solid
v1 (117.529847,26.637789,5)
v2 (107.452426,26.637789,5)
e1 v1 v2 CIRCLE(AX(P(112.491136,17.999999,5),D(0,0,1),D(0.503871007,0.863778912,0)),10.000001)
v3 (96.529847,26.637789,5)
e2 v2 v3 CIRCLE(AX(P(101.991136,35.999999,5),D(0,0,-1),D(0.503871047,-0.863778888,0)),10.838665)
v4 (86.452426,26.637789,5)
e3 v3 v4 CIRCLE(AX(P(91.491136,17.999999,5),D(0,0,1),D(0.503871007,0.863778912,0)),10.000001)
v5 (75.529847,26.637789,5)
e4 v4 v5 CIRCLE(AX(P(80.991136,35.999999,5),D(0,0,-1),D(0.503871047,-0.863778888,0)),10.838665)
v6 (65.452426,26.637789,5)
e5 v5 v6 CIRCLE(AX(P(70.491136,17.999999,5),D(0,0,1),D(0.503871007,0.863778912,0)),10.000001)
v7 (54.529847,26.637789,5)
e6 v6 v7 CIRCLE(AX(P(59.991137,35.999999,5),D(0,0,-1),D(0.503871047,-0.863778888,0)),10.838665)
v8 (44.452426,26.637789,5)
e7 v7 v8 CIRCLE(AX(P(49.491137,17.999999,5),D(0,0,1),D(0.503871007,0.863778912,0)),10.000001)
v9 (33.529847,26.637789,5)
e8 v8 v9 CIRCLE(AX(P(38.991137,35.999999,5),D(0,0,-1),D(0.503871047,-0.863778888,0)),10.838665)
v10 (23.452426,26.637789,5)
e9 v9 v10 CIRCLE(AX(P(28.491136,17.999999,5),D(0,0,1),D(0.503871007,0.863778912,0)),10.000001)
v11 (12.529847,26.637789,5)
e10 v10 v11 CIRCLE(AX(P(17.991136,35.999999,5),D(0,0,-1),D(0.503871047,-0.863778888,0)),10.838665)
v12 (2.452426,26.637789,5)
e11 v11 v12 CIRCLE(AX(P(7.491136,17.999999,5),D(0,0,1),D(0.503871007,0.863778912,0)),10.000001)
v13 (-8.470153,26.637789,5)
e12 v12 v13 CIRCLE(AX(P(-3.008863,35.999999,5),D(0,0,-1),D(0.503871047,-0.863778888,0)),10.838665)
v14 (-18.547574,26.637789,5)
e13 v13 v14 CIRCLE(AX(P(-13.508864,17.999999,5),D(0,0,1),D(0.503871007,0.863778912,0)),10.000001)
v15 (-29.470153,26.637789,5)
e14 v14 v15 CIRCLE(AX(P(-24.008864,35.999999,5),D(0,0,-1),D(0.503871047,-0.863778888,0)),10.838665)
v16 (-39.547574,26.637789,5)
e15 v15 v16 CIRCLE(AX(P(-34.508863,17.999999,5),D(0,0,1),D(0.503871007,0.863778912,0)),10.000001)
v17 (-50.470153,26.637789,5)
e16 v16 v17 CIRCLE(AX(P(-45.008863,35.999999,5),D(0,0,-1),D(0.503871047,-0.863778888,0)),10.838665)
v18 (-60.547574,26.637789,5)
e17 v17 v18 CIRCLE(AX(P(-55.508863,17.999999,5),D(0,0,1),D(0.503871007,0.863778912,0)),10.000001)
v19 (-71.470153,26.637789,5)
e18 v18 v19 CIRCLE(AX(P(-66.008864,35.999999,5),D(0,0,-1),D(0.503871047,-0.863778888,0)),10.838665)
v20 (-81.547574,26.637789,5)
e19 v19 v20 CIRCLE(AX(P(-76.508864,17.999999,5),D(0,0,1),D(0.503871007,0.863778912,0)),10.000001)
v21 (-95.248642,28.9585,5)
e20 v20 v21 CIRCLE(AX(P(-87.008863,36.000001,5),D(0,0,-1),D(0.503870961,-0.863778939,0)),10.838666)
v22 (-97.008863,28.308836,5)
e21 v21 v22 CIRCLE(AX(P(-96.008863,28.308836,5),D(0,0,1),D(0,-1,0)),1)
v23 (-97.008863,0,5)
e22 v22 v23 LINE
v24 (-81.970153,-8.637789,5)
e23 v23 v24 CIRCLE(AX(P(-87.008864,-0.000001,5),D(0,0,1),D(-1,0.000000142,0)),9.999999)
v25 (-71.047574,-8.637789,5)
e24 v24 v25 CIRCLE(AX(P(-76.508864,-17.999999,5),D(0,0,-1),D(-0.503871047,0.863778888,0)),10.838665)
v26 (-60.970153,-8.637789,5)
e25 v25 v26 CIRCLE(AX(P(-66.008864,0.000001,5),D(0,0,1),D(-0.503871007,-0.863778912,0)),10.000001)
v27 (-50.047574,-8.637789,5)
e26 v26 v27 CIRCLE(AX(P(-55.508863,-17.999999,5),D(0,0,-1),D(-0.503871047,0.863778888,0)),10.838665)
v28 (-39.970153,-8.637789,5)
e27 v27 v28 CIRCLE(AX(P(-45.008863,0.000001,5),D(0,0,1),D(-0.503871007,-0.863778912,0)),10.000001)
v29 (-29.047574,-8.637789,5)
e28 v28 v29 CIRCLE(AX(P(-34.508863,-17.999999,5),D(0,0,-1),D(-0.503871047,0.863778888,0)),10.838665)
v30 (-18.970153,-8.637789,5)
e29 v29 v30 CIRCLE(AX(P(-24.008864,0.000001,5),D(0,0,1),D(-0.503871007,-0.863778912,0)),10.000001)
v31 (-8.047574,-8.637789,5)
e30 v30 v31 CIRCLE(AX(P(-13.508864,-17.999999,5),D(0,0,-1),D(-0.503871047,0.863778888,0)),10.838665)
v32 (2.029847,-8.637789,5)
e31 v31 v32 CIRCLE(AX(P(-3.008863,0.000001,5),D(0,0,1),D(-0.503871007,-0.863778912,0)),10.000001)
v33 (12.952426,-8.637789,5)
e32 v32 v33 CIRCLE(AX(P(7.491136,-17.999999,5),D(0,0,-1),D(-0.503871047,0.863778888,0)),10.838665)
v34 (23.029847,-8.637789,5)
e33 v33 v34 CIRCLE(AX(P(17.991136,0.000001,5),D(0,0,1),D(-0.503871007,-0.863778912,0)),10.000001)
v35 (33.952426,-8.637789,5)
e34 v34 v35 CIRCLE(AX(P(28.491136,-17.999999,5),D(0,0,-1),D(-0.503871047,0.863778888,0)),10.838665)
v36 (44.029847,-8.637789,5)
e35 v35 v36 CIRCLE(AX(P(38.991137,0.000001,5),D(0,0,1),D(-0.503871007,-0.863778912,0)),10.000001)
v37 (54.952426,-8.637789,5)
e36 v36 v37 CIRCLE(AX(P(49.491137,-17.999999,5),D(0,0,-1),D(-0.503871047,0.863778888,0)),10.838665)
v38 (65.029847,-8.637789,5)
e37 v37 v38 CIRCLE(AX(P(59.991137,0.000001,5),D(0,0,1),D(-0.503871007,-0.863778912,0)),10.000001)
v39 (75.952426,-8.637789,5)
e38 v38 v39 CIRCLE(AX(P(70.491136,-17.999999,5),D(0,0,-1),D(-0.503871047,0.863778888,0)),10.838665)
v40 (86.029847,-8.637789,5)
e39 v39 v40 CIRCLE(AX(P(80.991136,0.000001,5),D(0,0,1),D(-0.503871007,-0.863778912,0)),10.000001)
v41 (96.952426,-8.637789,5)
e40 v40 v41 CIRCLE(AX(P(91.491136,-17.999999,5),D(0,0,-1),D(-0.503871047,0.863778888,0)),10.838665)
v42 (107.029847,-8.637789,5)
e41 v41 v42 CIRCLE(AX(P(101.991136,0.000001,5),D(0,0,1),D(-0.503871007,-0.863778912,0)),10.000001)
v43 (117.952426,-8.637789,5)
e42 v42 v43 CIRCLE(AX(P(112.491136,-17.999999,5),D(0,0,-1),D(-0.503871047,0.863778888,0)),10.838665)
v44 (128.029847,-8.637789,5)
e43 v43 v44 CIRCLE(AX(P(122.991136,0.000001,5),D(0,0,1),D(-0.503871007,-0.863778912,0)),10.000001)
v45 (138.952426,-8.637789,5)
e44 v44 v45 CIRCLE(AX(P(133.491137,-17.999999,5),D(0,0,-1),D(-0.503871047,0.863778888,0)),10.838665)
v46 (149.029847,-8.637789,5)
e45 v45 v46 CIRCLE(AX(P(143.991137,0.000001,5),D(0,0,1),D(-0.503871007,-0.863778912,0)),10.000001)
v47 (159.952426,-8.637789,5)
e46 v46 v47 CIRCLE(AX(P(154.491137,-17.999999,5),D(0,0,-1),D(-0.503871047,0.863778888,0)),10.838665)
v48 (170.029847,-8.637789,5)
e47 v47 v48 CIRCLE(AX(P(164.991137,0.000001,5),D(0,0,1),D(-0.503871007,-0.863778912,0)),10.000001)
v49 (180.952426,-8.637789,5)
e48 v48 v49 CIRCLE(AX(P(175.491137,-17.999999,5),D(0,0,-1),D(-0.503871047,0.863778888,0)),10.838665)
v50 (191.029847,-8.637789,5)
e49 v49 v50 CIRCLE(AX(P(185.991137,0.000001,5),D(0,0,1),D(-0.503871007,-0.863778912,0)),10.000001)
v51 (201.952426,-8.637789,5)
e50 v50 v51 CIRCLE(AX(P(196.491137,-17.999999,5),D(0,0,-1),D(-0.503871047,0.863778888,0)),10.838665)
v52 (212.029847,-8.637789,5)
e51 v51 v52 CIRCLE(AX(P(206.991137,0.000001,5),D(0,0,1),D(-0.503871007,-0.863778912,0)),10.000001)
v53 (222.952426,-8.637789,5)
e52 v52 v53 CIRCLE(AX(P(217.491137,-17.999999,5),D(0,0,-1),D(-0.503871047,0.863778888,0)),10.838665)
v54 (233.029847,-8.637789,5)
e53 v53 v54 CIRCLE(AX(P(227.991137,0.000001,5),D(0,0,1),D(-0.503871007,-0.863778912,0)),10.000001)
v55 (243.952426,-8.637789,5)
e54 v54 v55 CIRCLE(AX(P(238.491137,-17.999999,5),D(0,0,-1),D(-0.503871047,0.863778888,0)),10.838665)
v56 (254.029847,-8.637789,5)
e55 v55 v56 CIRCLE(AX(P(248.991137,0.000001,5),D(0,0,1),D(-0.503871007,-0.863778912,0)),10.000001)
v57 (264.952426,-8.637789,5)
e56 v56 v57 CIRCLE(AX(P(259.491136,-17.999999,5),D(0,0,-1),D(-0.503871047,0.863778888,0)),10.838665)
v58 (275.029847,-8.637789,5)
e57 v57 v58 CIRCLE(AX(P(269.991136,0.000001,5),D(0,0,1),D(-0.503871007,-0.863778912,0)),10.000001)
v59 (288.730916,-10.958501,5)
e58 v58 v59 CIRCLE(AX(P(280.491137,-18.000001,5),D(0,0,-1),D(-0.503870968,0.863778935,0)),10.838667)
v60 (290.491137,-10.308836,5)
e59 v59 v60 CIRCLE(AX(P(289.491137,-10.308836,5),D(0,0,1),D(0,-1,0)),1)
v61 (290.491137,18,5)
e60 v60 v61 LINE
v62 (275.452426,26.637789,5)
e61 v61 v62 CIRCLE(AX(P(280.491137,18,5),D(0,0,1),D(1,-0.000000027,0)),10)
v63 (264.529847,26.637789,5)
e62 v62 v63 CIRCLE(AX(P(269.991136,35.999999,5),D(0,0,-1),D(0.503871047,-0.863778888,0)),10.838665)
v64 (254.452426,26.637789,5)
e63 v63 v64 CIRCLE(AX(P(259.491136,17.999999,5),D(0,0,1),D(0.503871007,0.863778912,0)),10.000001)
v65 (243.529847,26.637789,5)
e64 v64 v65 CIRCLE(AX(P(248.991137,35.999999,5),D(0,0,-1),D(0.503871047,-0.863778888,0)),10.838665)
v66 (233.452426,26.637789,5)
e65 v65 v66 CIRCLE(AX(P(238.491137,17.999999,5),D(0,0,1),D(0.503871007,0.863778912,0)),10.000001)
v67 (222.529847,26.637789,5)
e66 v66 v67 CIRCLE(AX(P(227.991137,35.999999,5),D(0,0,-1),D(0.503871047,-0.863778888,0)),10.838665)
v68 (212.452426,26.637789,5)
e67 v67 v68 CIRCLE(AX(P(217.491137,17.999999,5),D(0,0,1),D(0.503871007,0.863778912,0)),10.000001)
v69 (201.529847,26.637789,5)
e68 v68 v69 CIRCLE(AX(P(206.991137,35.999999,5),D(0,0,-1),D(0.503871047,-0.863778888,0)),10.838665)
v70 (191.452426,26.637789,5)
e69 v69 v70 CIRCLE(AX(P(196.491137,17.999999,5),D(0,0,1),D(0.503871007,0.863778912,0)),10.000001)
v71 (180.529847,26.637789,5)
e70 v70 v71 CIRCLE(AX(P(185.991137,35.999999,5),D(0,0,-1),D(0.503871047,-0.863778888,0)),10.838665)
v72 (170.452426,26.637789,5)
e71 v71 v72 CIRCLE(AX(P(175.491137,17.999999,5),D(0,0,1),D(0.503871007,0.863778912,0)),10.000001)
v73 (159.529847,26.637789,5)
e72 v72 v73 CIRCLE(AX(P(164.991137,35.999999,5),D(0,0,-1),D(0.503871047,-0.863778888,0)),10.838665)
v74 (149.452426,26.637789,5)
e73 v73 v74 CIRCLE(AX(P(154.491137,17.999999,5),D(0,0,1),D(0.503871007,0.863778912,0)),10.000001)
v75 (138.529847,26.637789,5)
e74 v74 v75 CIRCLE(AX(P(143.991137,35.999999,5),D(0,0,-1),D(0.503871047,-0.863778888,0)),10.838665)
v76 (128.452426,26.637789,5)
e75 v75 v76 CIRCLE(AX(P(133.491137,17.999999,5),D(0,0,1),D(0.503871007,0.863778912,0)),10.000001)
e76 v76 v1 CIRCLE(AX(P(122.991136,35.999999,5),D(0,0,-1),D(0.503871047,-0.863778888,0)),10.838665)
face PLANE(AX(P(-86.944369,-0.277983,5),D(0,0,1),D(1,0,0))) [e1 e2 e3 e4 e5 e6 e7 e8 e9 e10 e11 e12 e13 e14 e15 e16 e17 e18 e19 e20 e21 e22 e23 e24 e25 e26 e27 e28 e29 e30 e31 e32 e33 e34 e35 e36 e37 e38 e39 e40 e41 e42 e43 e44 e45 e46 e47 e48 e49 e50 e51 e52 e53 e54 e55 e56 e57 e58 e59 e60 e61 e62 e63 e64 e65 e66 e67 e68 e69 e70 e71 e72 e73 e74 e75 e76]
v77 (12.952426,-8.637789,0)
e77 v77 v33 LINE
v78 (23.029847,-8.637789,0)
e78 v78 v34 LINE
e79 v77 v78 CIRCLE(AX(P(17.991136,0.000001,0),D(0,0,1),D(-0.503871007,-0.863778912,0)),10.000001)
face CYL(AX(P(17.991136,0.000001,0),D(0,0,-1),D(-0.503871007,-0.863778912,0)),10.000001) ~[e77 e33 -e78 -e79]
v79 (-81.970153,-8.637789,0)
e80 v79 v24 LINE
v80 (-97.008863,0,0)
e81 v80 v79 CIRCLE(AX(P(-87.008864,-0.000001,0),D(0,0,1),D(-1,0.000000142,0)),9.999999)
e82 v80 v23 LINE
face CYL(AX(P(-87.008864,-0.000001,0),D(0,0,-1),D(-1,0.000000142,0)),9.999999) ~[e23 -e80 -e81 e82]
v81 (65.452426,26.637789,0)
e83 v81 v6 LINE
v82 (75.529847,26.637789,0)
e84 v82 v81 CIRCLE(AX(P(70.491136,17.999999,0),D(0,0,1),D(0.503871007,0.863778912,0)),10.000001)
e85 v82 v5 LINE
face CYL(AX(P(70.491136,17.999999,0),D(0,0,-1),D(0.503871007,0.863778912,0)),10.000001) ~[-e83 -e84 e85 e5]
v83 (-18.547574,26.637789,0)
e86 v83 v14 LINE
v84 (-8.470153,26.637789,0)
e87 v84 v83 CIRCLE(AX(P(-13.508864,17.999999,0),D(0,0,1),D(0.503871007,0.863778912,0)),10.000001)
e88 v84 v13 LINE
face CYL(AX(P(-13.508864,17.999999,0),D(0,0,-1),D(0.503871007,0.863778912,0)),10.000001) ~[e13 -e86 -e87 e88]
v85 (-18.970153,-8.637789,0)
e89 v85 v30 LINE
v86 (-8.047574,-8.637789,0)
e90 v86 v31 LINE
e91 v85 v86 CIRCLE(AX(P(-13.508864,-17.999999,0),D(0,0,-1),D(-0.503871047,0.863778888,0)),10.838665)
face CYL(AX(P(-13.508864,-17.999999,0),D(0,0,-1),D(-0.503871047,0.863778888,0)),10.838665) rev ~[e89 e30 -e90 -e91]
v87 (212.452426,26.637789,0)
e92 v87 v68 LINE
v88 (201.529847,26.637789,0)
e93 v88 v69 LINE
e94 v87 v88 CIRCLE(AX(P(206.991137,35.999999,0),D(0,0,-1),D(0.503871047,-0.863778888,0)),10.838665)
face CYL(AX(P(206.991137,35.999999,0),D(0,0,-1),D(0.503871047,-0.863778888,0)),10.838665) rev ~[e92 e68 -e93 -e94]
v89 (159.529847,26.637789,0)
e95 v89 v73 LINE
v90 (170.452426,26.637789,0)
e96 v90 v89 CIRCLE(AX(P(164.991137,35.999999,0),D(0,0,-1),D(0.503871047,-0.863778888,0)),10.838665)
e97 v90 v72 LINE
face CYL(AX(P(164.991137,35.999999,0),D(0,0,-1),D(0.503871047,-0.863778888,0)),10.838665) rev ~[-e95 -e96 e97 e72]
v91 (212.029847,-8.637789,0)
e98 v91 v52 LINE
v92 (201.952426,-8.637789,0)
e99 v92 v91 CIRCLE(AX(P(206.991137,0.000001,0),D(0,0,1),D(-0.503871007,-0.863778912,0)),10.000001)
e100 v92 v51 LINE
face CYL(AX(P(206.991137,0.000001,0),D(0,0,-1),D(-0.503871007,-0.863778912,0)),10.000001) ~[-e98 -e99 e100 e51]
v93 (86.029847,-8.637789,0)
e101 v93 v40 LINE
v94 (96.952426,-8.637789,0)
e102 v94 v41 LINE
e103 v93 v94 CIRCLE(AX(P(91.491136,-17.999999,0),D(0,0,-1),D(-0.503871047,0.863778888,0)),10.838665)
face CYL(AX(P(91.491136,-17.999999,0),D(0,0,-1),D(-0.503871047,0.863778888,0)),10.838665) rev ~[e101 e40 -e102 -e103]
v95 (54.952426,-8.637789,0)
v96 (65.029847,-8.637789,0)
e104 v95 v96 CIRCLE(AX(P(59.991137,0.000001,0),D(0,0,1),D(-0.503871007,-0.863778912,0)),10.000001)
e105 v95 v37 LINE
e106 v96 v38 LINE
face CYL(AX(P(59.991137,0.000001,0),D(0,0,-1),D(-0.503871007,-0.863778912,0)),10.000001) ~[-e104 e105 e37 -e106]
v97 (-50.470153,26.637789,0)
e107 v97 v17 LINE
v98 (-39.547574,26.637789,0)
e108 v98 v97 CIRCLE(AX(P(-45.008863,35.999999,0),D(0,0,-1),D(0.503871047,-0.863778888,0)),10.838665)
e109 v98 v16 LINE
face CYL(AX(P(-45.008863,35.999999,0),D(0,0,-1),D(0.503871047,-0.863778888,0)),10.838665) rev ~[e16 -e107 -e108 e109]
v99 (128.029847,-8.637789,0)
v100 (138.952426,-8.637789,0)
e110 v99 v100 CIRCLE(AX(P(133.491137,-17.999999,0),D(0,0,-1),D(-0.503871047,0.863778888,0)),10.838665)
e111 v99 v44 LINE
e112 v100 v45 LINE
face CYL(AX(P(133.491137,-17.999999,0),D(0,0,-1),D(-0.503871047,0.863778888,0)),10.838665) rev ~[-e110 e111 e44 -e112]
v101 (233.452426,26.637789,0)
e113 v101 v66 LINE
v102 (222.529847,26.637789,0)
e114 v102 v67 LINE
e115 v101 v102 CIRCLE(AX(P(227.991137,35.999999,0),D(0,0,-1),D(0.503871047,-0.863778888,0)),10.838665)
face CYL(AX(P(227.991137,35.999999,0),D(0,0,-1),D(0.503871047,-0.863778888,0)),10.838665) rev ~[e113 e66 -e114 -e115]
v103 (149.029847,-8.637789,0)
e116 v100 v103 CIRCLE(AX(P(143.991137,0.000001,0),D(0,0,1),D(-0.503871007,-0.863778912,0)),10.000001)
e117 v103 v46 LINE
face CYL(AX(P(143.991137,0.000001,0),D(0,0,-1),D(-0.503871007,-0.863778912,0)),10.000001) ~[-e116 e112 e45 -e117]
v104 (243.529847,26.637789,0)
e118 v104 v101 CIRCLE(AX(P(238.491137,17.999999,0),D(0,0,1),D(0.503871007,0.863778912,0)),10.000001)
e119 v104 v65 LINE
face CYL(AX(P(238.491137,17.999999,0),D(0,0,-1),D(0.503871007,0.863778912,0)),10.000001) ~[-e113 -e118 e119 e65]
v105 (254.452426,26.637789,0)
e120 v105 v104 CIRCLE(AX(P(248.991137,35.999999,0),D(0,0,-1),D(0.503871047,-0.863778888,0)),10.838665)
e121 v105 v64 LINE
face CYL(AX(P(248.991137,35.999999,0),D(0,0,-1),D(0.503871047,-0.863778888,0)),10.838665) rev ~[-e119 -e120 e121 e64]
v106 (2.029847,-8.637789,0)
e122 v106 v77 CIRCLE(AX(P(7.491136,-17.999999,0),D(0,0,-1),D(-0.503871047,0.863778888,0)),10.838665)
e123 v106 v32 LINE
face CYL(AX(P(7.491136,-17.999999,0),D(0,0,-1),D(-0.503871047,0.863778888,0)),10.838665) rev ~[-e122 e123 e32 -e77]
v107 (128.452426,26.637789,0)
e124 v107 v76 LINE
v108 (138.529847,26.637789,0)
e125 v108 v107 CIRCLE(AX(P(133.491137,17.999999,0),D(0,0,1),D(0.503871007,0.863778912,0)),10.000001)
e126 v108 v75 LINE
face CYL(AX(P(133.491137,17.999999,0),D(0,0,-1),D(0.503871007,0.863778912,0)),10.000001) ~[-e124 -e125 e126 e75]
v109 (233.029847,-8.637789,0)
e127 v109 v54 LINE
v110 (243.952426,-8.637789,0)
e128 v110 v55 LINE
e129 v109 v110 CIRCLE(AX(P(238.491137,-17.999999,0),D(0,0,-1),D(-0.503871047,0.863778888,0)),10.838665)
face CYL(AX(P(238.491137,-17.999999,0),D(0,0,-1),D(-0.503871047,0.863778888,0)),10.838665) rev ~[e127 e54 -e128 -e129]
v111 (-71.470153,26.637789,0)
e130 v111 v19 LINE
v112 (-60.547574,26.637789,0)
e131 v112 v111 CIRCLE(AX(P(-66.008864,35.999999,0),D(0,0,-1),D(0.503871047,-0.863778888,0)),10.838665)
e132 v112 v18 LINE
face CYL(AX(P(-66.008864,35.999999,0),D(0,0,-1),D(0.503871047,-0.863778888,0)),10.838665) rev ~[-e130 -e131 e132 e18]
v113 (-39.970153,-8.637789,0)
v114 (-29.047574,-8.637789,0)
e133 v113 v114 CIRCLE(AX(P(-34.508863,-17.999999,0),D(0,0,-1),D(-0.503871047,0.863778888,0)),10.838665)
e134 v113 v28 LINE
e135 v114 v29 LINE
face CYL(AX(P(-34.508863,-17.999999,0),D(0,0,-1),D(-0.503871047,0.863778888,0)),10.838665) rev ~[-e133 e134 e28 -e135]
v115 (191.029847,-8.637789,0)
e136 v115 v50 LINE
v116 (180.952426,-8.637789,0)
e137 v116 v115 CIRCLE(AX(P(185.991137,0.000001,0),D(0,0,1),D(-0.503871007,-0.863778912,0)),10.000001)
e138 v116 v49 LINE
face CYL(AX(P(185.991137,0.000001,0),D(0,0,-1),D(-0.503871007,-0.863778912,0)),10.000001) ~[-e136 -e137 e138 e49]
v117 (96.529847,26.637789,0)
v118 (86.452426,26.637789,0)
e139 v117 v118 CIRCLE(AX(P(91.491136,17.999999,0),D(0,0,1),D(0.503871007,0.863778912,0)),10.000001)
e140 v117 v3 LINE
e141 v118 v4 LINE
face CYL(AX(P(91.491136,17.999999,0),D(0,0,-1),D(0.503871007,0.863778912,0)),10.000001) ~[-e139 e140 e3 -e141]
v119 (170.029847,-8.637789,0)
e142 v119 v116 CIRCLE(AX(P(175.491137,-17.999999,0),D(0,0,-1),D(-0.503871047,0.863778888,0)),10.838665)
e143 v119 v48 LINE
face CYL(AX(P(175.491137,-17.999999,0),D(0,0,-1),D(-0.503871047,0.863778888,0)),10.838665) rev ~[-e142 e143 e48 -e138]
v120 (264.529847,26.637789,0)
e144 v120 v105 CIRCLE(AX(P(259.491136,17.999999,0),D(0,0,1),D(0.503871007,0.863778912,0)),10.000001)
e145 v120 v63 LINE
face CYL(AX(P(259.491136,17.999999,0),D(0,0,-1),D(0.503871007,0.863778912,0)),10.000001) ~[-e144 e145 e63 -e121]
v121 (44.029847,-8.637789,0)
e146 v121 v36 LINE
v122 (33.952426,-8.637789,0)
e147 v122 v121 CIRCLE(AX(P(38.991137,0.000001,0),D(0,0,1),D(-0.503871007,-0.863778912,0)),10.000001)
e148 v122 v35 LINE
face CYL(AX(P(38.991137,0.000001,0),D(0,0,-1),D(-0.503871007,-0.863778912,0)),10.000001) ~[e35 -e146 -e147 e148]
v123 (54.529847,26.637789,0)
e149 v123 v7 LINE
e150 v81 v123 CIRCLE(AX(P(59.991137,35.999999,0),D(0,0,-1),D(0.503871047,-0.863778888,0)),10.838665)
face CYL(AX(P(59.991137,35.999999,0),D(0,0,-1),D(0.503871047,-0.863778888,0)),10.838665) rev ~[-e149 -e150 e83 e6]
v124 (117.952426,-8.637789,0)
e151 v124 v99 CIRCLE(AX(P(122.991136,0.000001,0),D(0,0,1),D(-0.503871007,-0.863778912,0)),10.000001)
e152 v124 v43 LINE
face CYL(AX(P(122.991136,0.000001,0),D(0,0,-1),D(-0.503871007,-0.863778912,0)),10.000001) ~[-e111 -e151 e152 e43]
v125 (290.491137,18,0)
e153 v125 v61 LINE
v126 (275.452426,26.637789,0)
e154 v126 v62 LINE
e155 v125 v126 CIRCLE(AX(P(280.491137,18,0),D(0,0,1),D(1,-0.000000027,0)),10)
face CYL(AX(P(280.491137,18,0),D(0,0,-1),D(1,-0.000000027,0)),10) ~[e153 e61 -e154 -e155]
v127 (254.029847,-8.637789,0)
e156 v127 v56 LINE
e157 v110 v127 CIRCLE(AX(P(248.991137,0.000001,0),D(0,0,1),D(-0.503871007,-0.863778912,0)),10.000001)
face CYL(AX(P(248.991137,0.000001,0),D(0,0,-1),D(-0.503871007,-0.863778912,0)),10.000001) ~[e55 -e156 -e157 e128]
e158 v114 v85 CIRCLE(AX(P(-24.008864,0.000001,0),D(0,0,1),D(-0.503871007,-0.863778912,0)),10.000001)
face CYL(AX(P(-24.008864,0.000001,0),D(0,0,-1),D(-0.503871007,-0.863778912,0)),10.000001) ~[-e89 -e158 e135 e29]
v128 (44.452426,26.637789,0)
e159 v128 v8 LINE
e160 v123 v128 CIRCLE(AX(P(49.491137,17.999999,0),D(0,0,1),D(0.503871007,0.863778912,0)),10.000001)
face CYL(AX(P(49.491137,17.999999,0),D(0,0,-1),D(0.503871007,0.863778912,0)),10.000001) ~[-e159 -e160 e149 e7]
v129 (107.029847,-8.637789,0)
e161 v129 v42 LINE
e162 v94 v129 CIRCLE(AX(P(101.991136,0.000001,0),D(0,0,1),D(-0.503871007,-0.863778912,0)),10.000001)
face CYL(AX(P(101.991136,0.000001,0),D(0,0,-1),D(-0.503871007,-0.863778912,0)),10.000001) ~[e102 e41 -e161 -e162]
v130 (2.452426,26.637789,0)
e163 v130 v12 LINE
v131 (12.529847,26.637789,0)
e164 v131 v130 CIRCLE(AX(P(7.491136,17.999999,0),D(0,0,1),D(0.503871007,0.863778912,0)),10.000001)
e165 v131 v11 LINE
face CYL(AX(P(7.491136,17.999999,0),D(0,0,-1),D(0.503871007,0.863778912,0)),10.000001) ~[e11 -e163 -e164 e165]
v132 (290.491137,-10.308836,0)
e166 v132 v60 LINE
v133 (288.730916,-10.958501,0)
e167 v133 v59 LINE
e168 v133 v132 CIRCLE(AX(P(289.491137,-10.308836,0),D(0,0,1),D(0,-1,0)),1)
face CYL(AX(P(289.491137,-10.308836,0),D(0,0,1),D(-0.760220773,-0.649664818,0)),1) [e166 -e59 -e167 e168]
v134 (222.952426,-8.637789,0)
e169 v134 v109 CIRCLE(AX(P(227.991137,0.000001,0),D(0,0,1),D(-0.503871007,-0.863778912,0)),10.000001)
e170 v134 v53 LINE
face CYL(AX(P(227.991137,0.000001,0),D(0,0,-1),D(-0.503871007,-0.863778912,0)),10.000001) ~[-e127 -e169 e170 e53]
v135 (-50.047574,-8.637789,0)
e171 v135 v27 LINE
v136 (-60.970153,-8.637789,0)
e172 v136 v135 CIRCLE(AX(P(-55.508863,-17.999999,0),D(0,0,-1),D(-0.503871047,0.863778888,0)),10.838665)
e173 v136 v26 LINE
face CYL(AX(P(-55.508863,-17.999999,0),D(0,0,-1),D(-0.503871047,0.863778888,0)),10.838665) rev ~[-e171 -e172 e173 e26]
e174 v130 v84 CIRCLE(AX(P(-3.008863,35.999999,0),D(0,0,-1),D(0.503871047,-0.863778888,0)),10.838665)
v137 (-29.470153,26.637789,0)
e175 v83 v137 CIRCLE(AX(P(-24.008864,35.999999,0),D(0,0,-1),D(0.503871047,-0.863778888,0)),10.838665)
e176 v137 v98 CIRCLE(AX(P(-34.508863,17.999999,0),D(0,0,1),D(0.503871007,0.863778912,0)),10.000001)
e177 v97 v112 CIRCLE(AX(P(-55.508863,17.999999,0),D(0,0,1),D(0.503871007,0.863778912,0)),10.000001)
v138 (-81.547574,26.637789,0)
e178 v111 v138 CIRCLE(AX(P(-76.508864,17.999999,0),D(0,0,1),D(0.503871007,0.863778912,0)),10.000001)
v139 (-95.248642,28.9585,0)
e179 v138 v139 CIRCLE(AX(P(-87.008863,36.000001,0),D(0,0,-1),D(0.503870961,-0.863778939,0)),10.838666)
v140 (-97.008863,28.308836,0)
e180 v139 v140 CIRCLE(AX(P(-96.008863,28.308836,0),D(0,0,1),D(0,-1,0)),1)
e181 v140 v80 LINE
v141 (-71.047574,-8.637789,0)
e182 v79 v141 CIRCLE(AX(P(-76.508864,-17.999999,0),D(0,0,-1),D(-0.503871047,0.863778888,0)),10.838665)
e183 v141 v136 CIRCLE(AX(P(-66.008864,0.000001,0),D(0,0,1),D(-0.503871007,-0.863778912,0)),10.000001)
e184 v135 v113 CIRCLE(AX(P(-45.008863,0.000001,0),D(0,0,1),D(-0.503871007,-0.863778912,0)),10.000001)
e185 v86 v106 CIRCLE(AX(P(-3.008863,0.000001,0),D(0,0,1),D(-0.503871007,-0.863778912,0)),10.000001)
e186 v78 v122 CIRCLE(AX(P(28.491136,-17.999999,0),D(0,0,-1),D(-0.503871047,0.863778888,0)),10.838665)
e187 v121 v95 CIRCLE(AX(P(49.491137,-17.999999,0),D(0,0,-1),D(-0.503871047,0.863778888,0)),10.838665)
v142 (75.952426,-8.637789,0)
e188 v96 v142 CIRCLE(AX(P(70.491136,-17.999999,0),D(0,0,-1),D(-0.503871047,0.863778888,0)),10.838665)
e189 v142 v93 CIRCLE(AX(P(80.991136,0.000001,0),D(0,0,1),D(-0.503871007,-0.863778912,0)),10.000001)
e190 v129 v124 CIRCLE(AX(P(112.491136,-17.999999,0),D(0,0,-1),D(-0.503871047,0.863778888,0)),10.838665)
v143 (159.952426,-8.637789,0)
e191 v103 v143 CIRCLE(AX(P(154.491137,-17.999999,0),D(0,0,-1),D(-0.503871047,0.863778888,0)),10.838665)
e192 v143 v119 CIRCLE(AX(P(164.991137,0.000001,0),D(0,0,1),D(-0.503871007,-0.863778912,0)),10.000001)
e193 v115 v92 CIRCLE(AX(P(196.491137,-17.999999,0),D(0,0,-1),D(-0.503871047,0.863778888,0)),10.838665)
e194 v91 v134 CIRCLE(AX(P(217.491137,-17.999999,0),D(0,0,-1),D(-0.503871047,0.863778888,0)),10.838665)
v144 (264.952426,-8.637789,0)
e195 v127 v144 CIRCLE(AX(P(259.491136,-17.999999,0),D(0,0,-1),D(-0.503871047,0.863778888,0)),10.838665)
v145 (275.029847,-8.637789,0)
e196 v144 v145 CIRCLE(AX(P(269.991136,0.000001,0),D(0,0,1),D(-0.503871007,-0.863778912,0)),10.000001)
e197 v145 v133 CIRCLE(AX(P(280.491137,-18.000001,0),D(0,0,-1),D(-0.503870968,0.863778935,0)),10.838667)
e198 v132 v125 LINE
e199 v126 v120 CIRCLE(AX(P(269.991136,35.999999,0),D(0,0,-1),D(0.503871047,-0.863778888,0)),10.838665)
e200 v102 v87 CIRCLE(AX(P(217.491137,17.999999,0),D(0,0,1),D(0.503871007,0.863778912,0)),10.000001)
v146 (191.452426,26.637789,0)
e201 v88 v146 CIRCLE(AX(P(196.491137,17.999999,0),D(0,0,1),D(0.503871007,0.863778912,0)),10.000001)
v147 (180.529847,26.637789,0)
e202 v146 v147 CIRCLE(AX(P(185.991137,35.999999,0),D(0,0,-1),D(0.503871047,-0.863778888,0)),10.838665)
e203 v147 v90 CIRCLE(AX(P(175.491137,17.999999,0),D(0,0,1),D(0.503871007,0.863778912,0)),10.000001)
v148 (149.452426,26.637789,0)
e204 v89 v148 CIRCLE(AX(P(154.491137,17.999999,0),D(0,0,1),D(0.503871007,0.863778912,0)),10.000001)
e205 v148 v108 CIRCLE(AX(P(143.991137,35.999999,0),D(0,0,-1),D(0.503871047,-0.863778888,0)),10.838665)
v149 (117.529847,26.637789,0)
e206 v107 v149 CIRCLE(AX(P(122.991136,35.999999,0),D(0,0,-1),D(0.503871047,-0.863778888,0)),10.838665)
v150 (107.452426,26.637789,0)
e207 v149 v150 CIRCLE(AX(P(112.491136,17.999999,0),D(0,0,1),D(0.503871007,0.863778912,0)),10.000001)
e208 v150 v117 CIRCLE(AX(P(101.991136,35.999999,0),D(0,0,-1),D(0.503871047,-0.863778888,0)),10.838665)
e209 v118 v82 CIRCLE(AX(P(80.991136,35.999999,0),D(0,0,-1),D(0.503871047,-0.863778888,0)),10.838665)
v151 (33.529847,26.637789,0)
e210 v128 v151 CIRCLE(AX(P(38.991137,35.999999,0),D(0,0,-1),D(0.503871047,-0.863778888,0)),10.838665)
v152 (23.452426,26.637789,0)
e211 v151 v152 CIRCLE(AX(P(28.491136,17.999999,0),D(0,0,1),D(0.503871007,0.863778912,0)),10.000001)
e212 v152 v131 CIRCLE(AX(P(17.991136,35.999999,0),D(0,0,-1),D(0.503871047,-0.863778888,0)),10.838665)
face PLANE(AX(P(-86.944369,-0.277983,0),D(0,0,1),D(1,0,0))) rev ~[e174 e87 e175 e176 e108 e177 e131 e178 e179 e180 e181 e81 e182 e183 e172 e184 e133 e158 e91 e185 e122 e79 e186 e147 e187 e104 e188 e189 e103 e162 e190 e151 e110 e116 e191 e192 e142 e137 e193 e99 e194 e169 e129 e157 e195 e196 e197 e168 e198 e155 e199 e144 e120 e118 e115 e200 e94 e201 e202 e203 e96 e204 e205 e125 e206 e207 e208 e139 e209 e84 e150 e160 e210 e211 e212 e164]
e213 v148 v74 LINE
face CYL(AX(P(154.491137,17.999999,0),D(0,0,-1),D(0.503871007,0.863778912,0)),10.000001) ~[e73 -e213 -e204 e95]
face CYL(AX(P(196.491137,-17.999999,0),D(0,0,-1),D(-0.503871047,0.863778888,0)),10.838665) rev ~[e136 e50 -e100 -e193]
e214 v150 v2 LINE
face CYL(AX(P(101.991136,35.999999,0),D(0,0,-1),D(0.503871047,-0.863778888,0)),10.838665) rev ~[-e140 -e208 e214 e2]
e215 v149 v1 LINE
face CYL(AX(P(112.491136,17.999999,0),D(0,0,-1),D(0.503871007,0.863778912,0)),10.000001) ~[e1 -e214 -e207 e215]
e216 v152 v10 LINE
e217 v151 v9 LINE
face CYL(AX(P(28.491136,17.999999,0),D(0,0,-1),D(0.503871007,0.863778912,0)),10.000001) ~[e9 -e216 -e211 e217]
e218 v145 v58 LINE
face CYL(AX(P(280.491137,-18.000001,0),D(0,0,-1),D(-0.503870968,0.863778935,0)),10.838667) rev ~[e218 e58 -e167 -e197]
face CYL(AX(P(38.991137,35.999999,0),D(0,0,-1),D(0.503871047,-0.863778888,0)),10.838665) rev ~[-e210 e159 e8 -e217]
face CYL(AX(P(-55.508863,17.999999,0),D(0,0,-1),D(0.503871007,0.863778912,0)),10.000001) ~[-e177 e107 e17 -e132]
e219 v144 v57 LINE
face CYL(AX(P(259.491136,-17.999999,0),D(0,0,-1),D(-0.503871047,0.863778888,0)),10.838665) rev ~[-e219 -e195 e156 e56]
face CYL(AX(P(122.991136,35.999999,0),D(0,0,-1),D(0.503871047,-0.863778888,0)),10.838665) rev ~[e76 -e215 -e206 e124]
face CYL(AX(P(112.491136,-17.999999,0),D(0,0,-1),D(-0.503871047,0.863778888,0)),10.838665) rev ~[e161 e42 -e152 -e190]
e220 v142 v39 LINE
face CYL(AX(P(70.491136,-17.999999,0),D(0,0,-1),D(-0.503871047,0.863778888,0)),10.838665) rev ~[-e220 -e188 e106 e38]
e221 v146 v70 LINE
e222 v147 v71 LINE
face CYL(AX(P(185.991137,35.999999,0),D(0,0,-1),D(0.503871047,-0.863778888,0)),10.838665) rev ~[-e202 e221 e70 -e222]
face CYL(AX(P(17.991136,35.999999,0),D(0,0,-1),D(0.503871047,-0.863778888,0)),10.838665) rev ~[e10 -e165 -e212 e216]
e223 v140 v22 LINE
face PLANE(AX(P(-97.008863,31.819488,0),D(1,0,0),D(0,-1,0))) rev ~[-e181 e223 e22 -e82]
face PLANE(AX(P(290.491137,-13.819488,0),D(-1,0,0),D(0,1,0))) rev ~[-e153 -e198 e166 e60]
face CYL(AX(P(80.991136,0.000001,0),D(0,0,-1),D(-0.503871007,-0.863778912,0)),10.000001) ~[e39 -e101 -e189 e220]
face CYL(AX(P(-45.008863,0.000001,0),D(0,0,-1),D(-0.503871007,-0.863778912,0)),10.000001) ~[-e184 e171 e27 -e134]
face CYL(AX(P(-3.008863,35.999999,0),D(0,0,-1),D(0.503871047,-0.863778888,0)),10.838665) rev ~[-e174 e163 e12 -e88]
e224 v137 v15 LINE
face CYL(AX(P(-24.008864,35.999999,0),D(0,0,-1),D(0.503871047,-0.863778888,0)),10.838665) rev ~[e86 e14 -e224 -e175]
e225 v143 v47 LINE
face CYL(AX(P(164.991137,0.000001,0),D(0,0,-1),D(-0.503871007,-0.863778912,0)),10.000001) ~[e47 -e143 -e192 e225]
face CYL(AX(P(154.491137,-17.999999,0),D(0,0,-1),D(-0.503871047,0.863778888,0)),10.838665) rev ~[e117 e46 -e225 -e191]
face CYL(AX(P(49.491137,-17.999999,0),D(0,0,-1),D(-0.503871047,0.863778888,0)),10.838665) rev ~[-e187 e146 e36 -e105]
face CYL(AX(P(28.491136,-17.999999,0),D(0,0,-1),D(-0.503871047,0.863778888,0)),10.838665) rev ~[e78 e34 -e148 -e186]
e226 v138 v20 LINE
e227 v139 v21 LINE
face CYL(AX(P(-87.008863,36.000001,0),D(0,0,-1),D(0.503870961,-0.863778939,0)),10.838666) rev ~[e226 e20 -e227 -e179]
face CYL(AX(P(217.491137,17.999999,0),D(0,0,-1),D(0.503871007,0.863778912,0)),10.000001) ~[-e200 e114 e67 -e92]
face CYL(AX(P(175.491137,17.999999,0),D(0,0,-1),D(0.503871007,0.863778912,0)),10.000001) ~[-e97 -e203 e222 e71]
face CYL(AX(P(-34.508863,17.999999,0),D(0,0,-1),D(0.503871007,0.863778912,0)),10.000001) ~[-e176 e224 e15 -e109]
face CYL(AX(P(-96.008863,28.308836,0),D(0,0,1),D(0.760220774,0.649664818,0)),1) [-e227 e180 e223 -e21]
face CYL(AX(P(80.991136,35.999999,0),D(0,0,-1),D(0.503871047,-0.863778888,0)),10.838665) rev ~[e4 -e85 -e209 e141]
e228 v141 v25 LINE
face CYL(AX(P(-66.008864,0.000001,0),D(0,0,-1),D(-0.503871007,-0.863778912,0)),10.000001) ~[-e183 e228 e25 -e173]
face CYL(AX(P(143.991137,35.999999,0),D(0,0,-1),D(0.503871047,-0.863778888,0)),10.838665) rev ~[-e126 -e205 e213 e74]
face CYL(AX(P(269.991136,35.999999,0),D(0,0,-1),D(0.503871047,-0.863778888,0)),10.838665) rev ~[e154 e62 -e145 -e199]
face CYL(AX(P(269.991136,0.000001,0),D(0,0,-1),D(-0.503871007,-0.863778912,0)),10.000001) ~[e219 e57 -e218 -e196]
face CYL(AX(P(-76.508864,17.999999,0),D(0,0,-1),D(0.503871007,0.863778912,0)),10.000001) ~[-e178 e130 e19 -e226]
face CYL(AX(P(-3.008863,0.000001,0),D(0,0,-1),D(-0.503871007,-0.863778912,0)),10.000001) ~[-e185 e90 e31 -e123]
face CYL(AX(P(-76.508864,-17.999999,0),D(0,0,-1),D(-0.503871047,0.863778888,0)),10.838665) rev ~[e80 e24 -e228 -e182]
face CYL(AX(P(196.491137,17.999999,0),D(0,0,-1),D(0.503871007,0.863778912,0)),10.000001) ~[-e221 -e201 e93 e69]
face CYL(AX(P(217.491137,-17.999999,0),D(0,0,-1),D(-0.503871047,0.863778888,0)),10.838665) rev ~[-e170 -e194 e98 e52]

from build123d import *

# Parameters (mm, degrees)
F1_DEPTH = 5
F2_R     = 1


with BuildPart() as f1:
    # F0 (on Top) → F1 (new body)
    with BuildSketch(Plane.XY):
        with BuildLine():
            ThreePointArc((-81.970153, -8.637789), (-78.337442, -4.980607), (-77.008863, 0))
            ThreePointArc((-77.008863, 0), (-87.008863, 10), (-97.008863, 0))
            ThreePointArc((-97.008863, 0), (-91.989471, -8.671422), (-81.970153, -8.637789))
        make_face()
        with BuildLine():
            ThreePointArc((-97.008863, 0), (-87.008863, 10), (-77.008863, 0))
            ThreePointArc((-77.008863, 0), (-78.337442, -4.980607), (-81.970153, -8.637789))
            ThreePointArc((-81.970153, -8.637789), (-76.508863, -7.161334), (-71.047574, -8.637789))
            ThreePointArc((-71.047574, -8.637789), (-70.989471, 8.671422), (-56.008863, 0))
            ThreePointArc((-56.008863, 0), (-57.337442, -4.980607), (-60.970153, -8.637789))
            ThreePointArc((-60.970153, -8.637789), (-55.508863, -7.161334), (-50.047574, -8.637789))
            ThreePointArc((-50.047574, -8.637789), (-49.989471, 8.671422), (-35.008863, 0))
            ThreePointArc((-35.008863, 0), (-36.337442, -4.980607), (-39.970153, -8.637789))
            ThreePointArc((-39.970153, -8.637789), (-34.508863, -7.161334), (-29.047574, -8.637789))
            ThreePointArc((-29.047574, -8.637789), (-28.989471, 8.671422), (-14.008863, 0))
            ThreePointArc((-14.008863, 0), (-15.337442, -4.980607), (-18.970153, -8.637789))
            ThreePointArc((-18.970153, -8.637789), (-13.508863, -7.161334), (-8.047574, -8.637789))
            ThreePointArc((-8.047574, -8.637789), (-7.989471, 8.671422), (6.991137, 0))
            ThreePointArc((6.991137, 0), (5.662558, -4.980607), (2.029847, -8.637789))
            ThreePointArc((2.029847, -8.637789), (7.491137, -7.161334), (12.952426, -8.637789))
            ThreePointArc((12.952426, -8.637789), (13.010529, 8.671422), (27.991137, 0))
            ThreePointArc((27.991137, 0), (26.662558, -4.980607), (23.029847, -8.637789))
            ThreePointArc((23.029847, -8.637789), (28.491137, -7.161334), (33.952426, -8.637789))
            ThreePointArc((33.952426, -8.637789), (34.010529, 8.671422), (48.991137, 0))
            ThreePointArc((48.991137, 0), (47.662558, -4.980607), (44.029847, -8.637789))
            ThreePointArc((44.029847, -8.637789), (49.491137, -7.161334), (54.952426, -8.637789))
            ThreePointArc((54.952426, -8.637789), (55.010529, 8.671422), (69.991137, 0))
            ThreePointArc((69.991137, 0), (68.662558, -4.980607), (65.029847, -8.637789))
            ThreePointArc((65.029847, -8.637789), (70.491137, -7.161334), (75.952426, -8.637789))
            ThreePointArc((75.952426, -8.637789), (76.010529, 8.671422), (90.991137, 0))
            ThreePointArc((90.991137, 0), (89.662558, -4.980607), (86.029847, -8.637789))
            ThreePointArc((86.029847, -8.637789), (91.491137, -7.161334), (96.952426, -8.637789))
            ThreePointArc((96.952426, -8.637789), (97.010529, 8.671422), (111.991137, 0))
            ThreePointArc((111.991137, 0), (110.662558, -4.980607), (107.029847, -8.637789))
            ThreePointArc((107.029847, -8.637789), (112.491137, -7.161334), (117.952426, -8.637789))
            ThreePointArc((117.952426, -8.637789), (118.010529, 8.671422), (132.991137, 0))
            ThreePointArc((132.991137, 0), (131.662558, -4.980607), (128.029847, -8.637789))
            ThreePointArc((128.029847, -8.637789), (133.491137, -7.161334), (138.952426, -8.637789))
            ThreePointArc((138.952426, -8.637789), (139.010529, 8.671422), (153.991137, 0))
            ThreePointArc((153.991137, 0), (152.662558, -4.980607), (149.029847, -8.637789))
            ThreePointArc((149.029847, -8.637789), (154.491137, -7.161334), (159.952426, -8.637789))
            ThreePointArc((159.952426, -8.637789), (160.010529, 8.671422), (174.991137, 0))
            ThreePointArc((174.991137, 0), (173.662558, -4.980607), (170.029847, -8.637789))
            ThreePointArc((170.029847, -8.637789), (175.491137, -7.161334), (180.952426, -8.637789))
            ThreePointArc((180.952426, -8.637789), (181.010529, 8.671422), (195.991137, 0))
            ThreePointArc((195.991137, 0), (194.662558, -4.980607), (191.029847, -8.637789))
            ThreePointArc((191.029847, -8.637789), (196.491137, -7.161334), (201.952426, -8.637789))
            ThreePointArc((201.952426, -8.637789), (202.010529, 8.671422), (216.991137, 0))
            ThreePointArc((216.991137, 0), (215.662558, -4.980607), (212.029847, -8.637789))
            ThreePointArc((212.029847, -8.637789), (217.491137, -7.161334), (222.952426, -8.637789))
            ThreePointArc((222.952426, -8.637789), (223.010529, 8.671422), (237.991137, 0))
            ThreePointArc((237.991137, 0), (236.662558, -4.980607), (233.029847, -8.637789))
            ThreePointArc((233.029847, -8.637789), (238.491137, -7.161334), (243.952426, -8.637789))
            ThreePointArc((243.952426, -8.637789), (244.010529, 8.671422), (258.991137, 0))
            ThreePointArc((258.991137, 0), (257.662558, -4.980607), (254.029847, -8.637789))
            ThreePointArc((254.029847, -8.637789), (259.491137, -7.161334), (264.952426, -8.637789))
            ThreePointArc((264.952426, -8.637789), (265.010529, 8.671422), (279.991137, 0))
            ThreePointArc((279.991137, 0), (278.662558, -4.980607), (275.029847, -8.637789))
            ThreePointArc((275.029847, -8.637789), (283.935331, -7.723123), (290.491137, -13.819488))
            Line((290.491137, -13.819488), (290.491137, 18))
            ThreePointArc((290.491137, 18), (275.510529, 9.328578), (275.452426, 26.637789))
            ThreePointArc((275.452426, 26.637789), (269.991137, 25.161334), (264.529847, 26.637789))
            ThreePointArc((264.529847, 26.637789), (268.162558, 22.980607), (269.491137, 18))
            ThreePointArc((269.491137, 18), (254.510529, 9.328578), (254.452426, 26.637789))
            ThreePointArc((254.452426, 26.637789), (248.991137, 25.161334), (243.529847, 26.637789))
            ThreePointArc((243.529847, 26.637789), (247.162558, 22.980607), (248.491137, 18))
            ThreePointArc((248.491137, 18), (233.510529, 9.328578), (233.452426, 26.637789))
            ThreePointArc((233.452426, 26.637789), (227.991137, 25.161334), (222.529847, 26.637789))
            ThreePointArc((222.529847, 26.637789), (226.162558, 22.980607), (227.491137, 18))
            ThreePointArc((227.491137, 18), (212.510529, 9.328578), (212.452426, 26.637789))
            ThreePointArc((212.452426, 26.637789), (206.991137, 25.161334), (201.529847, 26.637789))
            ThreePointArc((201.529847, 26.637789), (205.162558, 22.980607), (206.491137, 18))
            ThreePointArc((206.491137, 18), (191.510529, 9.328578), (191.452426, 26.637789))
            ThreePointArc((191.452426, 26.637789), (185.991137, 25.161334), (180.529847, 26.637789))
            ThreePointArc((180.529847, 26.637789), (184.162558, 22.980607), (185.491137, 18))
            ThreePointArc((185.491137, 18), (170.510529, 9.328578), (170.452426, 26.637789))
            ThreePointArc((170.452426, 26.637789), (164.991137, 25.161334), (159.529847, 26.637789))
            ThreePointArc((159.529847, 26.637789), (163.162558, 22.980607), (164.491137, 18))
            ThreePointArc((164.491137, 18), (149.510529, 9.328578), (149.452426, 26.637789))
            ThreePointArc((149.452426, 26.637789), (143.991137, 25.161334), (138.529847, 26.637789))
            ThreePointArc((138.529847, 26.637789), (142.162558, 22.980607), (143.491137, 18))
            ThreePointArc((143.491137, 18), (128.510529, 9.328578), (128.452426, 26.637789))
            ThreePointArc((128.452426, 26.637789), (122.991137, 25.161334), (117.529847, 26.637789))
            ThreePointArc((117.529847, 26.637789), (121.162558, 22.980607), (122.491137, 18))
            ThreePointArc((122.491137, 18), (107.510529, 9.328578), (107.452426, 26.637789))
            ThreePointArc((107.452426, 26.637789), (101.991137, 25.161334), (96.529847, 26.637789))
            ThreePointArc((96.529847, 26.637789), (100.162558, 22.980607), (101.491137, 18))
            ThreePointArc((101.491137, 18), (86.510529, 9.328578), (86.452426, 26.637789))
            ThreePointArc((86.452426, 26.637789), (80.991137, 25.161334), (75.529847, 26.637789))
            ThreePointArc((75.529847, 26.637789), (79.162558, 22.980607), (80.491137, 18))
            ThreePointArc((80.491137, 18), (65.510529, 9.328578), (65.452426, 26.637789))
            ThreePointArc((65.452426, 26.637789), (59.991137, 25.161334), (54.529847, 26.637789))
            ThreePointArc((54.529847, 26.637789), (58.162558, 22.980607), (59.491137, 18))
            ThreePointArc((59.491137, 18), (44.510529, 9.328578), (44.452426, 26.637789))
            ThreePointArc((44.452426, 26.637789), (38.991137, 25.161334), (33.529847, 26.637789))
            ThreePointArc((33.529847, 26.637789), (37.162558, 22.980607), (38.491137, 18))
            ThreePointArc((38.491137, 18), (23.510529, 9.328578), (23.452426, 26.637789))
            ThreePointArc((23.452426, 26.637789), (17.991137, 25.161334), (12.529847, 26.637789))
            ThreePointArc((12.529847, 26.637789), (16.162558, 22.980607), (17.491137, 18))
            ThreePointArc((17.491137, 18), (2.510529, 9.328578), (2.452426, 26.637789))
            ThreePointArc((2.452426, 26.637789), (-3.008863, 25.161334), (-8.470153, 26.637789))
            ThreePointArc((-8.470153, 26.637789), (-4.837442, 22.980607), (-3.508863, 18))
            ThreePointArc((-3.508863, 18), (-18.489471, 9.328578), (-18.547574, 26.637789))
            ThreePointArc((-18.547574, 26.637789), (-24.008863, 25.161334), (-29.470153, 26.637789))
            ThreePointArc((-29.470153, 26.637789), (-25.837442, 22.980607), (-24.508863, 18))
            ThreePointArc((-24.508863, 18), (-39.489471, 9.328578), (-39.547574, 26.637789))
            ThreePointArc((-39.547574, 26.637789), (-45.008863, 25.161334), (-50.470153, 26.637789))
            ThreePointArc((-50.470153, 26.637789), (-46.837442, 22.980607), (-45.508863, 18))
            ThreePointArc((-45.508863, 18), (-60.489471, 9.328578), (-60.547574, 26.637789))
            ThreePointArc((-60.547574, 26.637789), (-66.008863, 25.161334), (-71.470153, 26.637789))
            ThreePointArc((-71.470153, 26.637789), (-67.837442, 22.980607), (-66.508863, 18))
            ThreePointArc((-66.508863, 18), (-81.489471, 9.328578), (-81.547574, 26.637789))
            ThreePointArc((-81.547574, 26.637789), (-90.453057, 25.723123), (-97.008863, 31.819488))
            Line((-97.008863, 31.819488), (-97.008863, 0))
        make_face()
        with BuildLine():
            ThreePointArc((-56.008863, 0), (-70.989471, 8.671422), (-71.047574, -8.637789))
            ThreePointArc((-71.047574, -8.637789), (-66.008863, -10), (-60.970153, -8.637789))
            ThreePointArc((-60.970153, -8.637789), (-57.337442, -4.980607), (-56.008863, 0))
        make_face()
        with BuildLine():
            ThreePointArc((-71.470153, 26.637789), (-76.508863, 28), (-81.547574, 26.637789))
            ThreePointArc((-81.547574, 26.637789), (-81.489471, 9.328578), (-66.508863, 18))
            ThreePointArc((-66.508863, 18), (-67.837442, 22.980607), (-71.470153, 26.637789))
        make_face()
        with BuildLine():
            ThreePointArc((-35.008863, 0), (-49.989471, 8.671422), (-50.047574, -8.637789))
            ThreePointArc((-50.047574, -8.637789), (-45.008863, -10), (-39.970153, -8.637789))
            ThreePointArc((-39.970153, -8.637789), (-36.337442, -4.980607), (-35.008863, 0))
        make_face()
        with BuildLine():
            ThreePointArc((-50.470153, 26.637789), (-55.508863, 28), (-60.547574, 26.637789))
            ThreePointArc((-60.547574, 26.637789), (-60.489471, 9.328578), (-45.508863, 18))
            ThreePointArc((-45.508863, 18), (-46.837442, 22.980607), (-50.470153, 26.637789))
        make_face()
        with BuildLine():
            ThreePointArc((-14.008863, 0), (-28.989471, 8.671422), (-29.047574, -8.637789))
            ThreePointArc((-29.047574, -8.637789), (-24.008863, -10), (-18.970153, -8.637789))
            ThreePointArc((-18.970153, -8.637789), (-15.337442, -4.980607), (-14.008863, 0))
        make_face()
        with BuildLine():
            ThreePointArc((-29.470153, 26.637789), (-34.508863, 28), (-39.547574, 26.637789))
            ThreePointArc((-39.547574, 26.637789), (-39.489471, 9.328578), (-24.508863, 18))
            ThreePointArc((-24.508863, 18), (-25.837442, 22.980607), (-29.470153, 26.637789))
        make_face()
        with BuildLine():
            ThreePointArc((6.991137, 0), (-7.989471, 8.671422), (-8.047574, -8.637789))
            ThreePointArc((-8.047574, -8.637789), (-3.008863, -10), (2.029847, -8.637789))
            ThreePointArc((2.029847, -8.637789), (5.662558, -4.980607), (6.991137, 0))
        make_face()
        with BuildLine():
            ThreePointArc((-8.470153, 26.637789), (-13.508863, 28), (-18.547574, 26.637789))
            ThreePointArc((-18.547574, 26.637789), (-18.489471, 9.328578), (-3.508863, 18))
            ThreePointArc((-3.508863, 18), (-4.837442, 22.980607), (-8.470153, 26.637789))
        make_face()
        with BuildLine():
            ThreePointArc((27.991137, 0), (13.010529, 8.671422), (12.952426, -8.637789))
            ThreePointArc((12.952426, -8.637789), (17.991137, -10), (23.029847, -8.637789))
            ThreePointArc((23.029847, -8.637789), (26.662558, -4.980607), (27.991137, 0))
        make_face()
        with BuildLine():
            ThreePointArc((12.529847, 26.637789), (7.491137, 28), (2.452426, 26.637789))
            ThreePointArc((2.452426, 26.637789), (2.510529, 9.328578), (17.491137, 18))
            ThreePointArc((17.491137, 18), (16.162558, 22.980607), (12.529847, 26.637789))
        make_face()
        with BuildLine():
            ThreePointArc((48.991137, 0), (34.010529, 8.671422), (33.952426, -8.637789))
            ThreePointArc((33.952426, -8.637789), (38.991137, -10), (44.029847, -8.637789))
            ThreePointArc((44.029847, -8.637789), (47.662558, -4.980607), (48.991137, 0))
        make_face()
        with BuildLine():
            ThreePointArc((33.529847, 26.637789), (28.491137, 28), (23.452426, 26.637789))
            ThreePointArc((23.452426, 26.637789), (23.510529, 9.328578), (38.491137, 18))
            ThreePointArc((38.491137, 18), (37.162558, 22.980607), (33.529847, 26.637789))
        make_face()
        with BuildLine():
            ThreePointArc((69.991137, 0), (55.010529, 8.671422), (54.952426, -8.637789))
            ThreePointArc((54.952426, -8.637789), (59.991137, -10), (65.029847, -8.637789))
            ThreePointArc((65.029847, -8.637789), (68.662558, -4.980607), (69.991137, 0))
        make_face()
        with BuildLine():
            ThreePointArc((54.529847, 26.637789), (49.491137, 28), (44.452426, 26.637789))
            ThreePointArc((44.452426, 26.637789), (44.510529, 9.328578), (59.491137, 18))
            ThreePointArc((59.491137, 18), (58.162558, 22.980607), (54.529847, 26.637789))
        make_face()
        with BuildLine():
            ThreePointArc((90.991137, 0), (76.010529, 8.671422), (75.952426, -8.637789))
            ThreePointArc((75.952426, -8.637789), (80.991137, -10), (86.029847, -8.637789))
            ThreePointArc((86.029847, -8.637789), (89.662558, -4.980607), (90.991137, 0))
        make_face()
        with BuildLine():
            ThreePointArc((75.529847, 26.637789), (70.491137, 28), (65.452426, 26.637789))
            ThreePointArc((65.452426, 26.637789), (65.510529, 9.328578), (80.491137, 18))
            ThreePointArc((80.491137, 18), (79.162558, 22.980607), (75.529847, 26.637789))
        make_face()
        with BuildLine():
            ThreePointArc((111.991137, 0), (97.010529, 8.671422), (96.952426, -8.637789))
            ThreePointArc((96.952426, -8.637789), (101.991137, -10), (107.029847, -8.637789))
            ThreePointArc((107.029847, -8.637789), (110.662558, -4.980607), (111.991137, 0))
        make_face()
        with BuildLine():
            ThreePointArc((96.529847, 26.637789), (91.491137, 28), (86.452426, 26.637789))
            ThreePointArc((86.452426, 26.637789), (86.510529, 9.328578), (101.491137, 18))
            ThreePointArc((101.491137, 18), (100.162558, 22.980607), (96.529847, 26.637789))
        make_face()
        with BuildLine():
            ThreePointArc((132.991137, 0), (118.010529, 8.671422), (117.952426, -8.637789))
            ThreePointArc((117.952426, -8.637789), (122.991137, -10), (128.029847, -8.637789))
            ThreePointArc((128.029847, -8.637789), (131.662558, -4.980607), (132.991137, 0))
        make_face()
        with BuildLine():
            ThreePointArc((117.529847, 26.637789), (112.491137, 28), (107.452426, 26.637789))
            ThreePointArc((107.452426, 26.637789), (107.510529, 9.328578), (122.491137, 18))
            ThreePointArc((122.491137, 18), (121.162558, 22.980607), (117.529847, 26.637789))
        make_face()
        with BuildLine():
            ThreePointArc((153.991137, 0), (139.010529, 8.671422), (138.952426, -8.637789))
            ThreePointArc((138.952426, -8.637789), (143.991137, -10), (149.029847, -8.637789))
            ThreePointArc((149.029847, -8.637789), (152.662558, -4.980607), (153.991137, 0))
        make_face()
        with BuildLine():
            ThreePointArc((138.529847, 26.637789), (133.491137, 28), (128.452426, 26.637789))
            ThreePointArc((128.452426, 26.637789), (128.510529, 9.328578), (143.491137, 18))
            ThreePointArc((143.491137, 18), (142.162558, 22.980607), (138.529847, 26.637789))
        make_face()
        with BuildLine():
            ThreePointArc((174.991137, 0), (160.010529, 8.671422), (159.952426, -8.637789))
            ThreePointArc((159.952426, -8.637789), (164.991137, -10), (170.029847, -8.637789))
            ThreePointArc((170.029847, -8.637789), (173.662558, -4.980607), (174.991137, 0))
        make_face()
        with BuildLine():
            ThreePointArc((159.529847, 26.637789), (154.491137, 28), (149.452426, 26.637789))
            ThreePointArc((149.452426, 26.637789), (149.510529, 9.328578), (164.491137, 18))
            ThreePointArc((164.491137, 18), (163.162558, 22.980607), (159.529847, 26.637789))
        make_face()
        with BuildLine():
            ThreePointArc((195.991137, 0), (181.010529, 8.671422), (180.952426, -8.637789))
            ThreePointArc((180.952426, -8.637789), (185.991137, -10), (191.029847, -8.637789))
            ThreePointArc((191.029847, -8.637789), (194.662558, -4.980607), (195.991137, 0))
        make_face()
        with BuildLine():
            ThreePointArc((180.529847, 26.637789), (175.491137, 28), (170.452426, 26.637789))
            ThreePointArc((170.452426, 26.637789), (170.510529, 9.328578), (185.491137, 18))
            ThreePointArc((185.491137, 18), (184.162558, 22.980607), (180.529847, 26.637789))
        make_face()
        with BuildLine():
            ThreePointArc((216.991137, 0), (202.010529, 8.671422), (201.952426, -8.637789))
            ThreePointArc((201.952426, -8.637789), (206.991137, -10), (212.029847, -8.637789))
            ThreePointArc((212.029847, -8.637789), (215.662558, -4.980607), (216.991137, 0))
        make_face()
        with BuildLine():
            ThreePointArc((201.529847, 26.637789), (196.491137, 28), (191.452426, 26.637789))
            ThreePointArc((191.452426, 26.637789), (191.510529, 9.328578), (206.491137, 18))
            ThreePointArc((206.491137, 18), (205.162558, 22.980607), (201.529847, 26.637789))
        make_face()
        with BuildLine():
            ThreePointArc((237.991137, 0), (223.010529, 8.671422), (222.952426, -8.637789))
            ThreePointArc((222.952426, -8.637789), (227.991137, -10), (233.029847, -8.637789))
            ThreePointArc((233.029847, -8.637789), (236.662558, -4.980607), (237.991137, 0))
        make_face()
        with BuildLine():
            ThreePointArc((222.529847, 26.637789), (217.491137, 28), (212.452426, 26.637789))
            ThreePointArc((212.452426, 26.637789), (212.510529, 9.328578), (227.491137, 18))
            ThreePointArc((227.491137, 18), (226.162558, 22.980607), (222.529847, 26.637789))
        make_face()
        with BuildLine():
            ThreePointArc((258.991137, 0), (244.010529, 8.671422), (243.952426, -8.637789))
            ThreePointArc((243.952426, -8.637789), (248.991137, -10), (254.029847, -8.637789))
            ThreePointArc((254.029847, -8.637789), (257.662558, -4.980607), (258.991137, 0))
        make_face()
        with BuildLine():
            ThreePointArc((243.529847, 26.637789), (238.491137, 28), (233.452426, 26.637789))
            ThreePointArc((233.452426, 26.637789), (233.510529, 9.328578), (248.491137, 18))
            ThreePointArc((248.491137, 18), (247.162558, 22.980607), (243.529847, 26.637789))
        make_face()
        with BuildLine():
            ThreePointArc((279.991137, 0), (265.010529, 8.671422), (264.952426, -8.637789))
            ThreePointArc((264.952426, -8.637789), (269.991137, -10), (275.029847, -8.637789))
            ThreePointArc((275.029847, -8.637789), (278.662558, -4.980607), (279.991137, 0))
        make_face()
        with BuildLine():
            ThreePointArc((264.529847, 26.637789), (259.491137, 28), (254.452426, 26.637789))
            ThreePointArc((254.452426, 26.637789), (254.510529, 9.328578), (269.491137, 18))
            ThreePointArc((269.491137, 18), (268.162558, 22.980607), (264.529847, 26.637789))
        make_face()
        with BuildLine():
            ThreePointArc((290.491137, 18), (285.471744, 26.671422), (275.452426, 26.637789))
            ThreePointArc((275.452426, 26.637789), (275.510529, 9.328578), (290.491137, 18))
        make_face()
    extrude(amount=F1_DEPTH)

    # F2
    f2_edges = [f1.edges().sort_by_distance(p)[0] for p in [
        (290.491137, -13.819488, 2.5),
        (-97.008863, 31.819488, 2.5),
    ]]
    fillet(f2_edges, radius=F2_R)


solid = f1.part
